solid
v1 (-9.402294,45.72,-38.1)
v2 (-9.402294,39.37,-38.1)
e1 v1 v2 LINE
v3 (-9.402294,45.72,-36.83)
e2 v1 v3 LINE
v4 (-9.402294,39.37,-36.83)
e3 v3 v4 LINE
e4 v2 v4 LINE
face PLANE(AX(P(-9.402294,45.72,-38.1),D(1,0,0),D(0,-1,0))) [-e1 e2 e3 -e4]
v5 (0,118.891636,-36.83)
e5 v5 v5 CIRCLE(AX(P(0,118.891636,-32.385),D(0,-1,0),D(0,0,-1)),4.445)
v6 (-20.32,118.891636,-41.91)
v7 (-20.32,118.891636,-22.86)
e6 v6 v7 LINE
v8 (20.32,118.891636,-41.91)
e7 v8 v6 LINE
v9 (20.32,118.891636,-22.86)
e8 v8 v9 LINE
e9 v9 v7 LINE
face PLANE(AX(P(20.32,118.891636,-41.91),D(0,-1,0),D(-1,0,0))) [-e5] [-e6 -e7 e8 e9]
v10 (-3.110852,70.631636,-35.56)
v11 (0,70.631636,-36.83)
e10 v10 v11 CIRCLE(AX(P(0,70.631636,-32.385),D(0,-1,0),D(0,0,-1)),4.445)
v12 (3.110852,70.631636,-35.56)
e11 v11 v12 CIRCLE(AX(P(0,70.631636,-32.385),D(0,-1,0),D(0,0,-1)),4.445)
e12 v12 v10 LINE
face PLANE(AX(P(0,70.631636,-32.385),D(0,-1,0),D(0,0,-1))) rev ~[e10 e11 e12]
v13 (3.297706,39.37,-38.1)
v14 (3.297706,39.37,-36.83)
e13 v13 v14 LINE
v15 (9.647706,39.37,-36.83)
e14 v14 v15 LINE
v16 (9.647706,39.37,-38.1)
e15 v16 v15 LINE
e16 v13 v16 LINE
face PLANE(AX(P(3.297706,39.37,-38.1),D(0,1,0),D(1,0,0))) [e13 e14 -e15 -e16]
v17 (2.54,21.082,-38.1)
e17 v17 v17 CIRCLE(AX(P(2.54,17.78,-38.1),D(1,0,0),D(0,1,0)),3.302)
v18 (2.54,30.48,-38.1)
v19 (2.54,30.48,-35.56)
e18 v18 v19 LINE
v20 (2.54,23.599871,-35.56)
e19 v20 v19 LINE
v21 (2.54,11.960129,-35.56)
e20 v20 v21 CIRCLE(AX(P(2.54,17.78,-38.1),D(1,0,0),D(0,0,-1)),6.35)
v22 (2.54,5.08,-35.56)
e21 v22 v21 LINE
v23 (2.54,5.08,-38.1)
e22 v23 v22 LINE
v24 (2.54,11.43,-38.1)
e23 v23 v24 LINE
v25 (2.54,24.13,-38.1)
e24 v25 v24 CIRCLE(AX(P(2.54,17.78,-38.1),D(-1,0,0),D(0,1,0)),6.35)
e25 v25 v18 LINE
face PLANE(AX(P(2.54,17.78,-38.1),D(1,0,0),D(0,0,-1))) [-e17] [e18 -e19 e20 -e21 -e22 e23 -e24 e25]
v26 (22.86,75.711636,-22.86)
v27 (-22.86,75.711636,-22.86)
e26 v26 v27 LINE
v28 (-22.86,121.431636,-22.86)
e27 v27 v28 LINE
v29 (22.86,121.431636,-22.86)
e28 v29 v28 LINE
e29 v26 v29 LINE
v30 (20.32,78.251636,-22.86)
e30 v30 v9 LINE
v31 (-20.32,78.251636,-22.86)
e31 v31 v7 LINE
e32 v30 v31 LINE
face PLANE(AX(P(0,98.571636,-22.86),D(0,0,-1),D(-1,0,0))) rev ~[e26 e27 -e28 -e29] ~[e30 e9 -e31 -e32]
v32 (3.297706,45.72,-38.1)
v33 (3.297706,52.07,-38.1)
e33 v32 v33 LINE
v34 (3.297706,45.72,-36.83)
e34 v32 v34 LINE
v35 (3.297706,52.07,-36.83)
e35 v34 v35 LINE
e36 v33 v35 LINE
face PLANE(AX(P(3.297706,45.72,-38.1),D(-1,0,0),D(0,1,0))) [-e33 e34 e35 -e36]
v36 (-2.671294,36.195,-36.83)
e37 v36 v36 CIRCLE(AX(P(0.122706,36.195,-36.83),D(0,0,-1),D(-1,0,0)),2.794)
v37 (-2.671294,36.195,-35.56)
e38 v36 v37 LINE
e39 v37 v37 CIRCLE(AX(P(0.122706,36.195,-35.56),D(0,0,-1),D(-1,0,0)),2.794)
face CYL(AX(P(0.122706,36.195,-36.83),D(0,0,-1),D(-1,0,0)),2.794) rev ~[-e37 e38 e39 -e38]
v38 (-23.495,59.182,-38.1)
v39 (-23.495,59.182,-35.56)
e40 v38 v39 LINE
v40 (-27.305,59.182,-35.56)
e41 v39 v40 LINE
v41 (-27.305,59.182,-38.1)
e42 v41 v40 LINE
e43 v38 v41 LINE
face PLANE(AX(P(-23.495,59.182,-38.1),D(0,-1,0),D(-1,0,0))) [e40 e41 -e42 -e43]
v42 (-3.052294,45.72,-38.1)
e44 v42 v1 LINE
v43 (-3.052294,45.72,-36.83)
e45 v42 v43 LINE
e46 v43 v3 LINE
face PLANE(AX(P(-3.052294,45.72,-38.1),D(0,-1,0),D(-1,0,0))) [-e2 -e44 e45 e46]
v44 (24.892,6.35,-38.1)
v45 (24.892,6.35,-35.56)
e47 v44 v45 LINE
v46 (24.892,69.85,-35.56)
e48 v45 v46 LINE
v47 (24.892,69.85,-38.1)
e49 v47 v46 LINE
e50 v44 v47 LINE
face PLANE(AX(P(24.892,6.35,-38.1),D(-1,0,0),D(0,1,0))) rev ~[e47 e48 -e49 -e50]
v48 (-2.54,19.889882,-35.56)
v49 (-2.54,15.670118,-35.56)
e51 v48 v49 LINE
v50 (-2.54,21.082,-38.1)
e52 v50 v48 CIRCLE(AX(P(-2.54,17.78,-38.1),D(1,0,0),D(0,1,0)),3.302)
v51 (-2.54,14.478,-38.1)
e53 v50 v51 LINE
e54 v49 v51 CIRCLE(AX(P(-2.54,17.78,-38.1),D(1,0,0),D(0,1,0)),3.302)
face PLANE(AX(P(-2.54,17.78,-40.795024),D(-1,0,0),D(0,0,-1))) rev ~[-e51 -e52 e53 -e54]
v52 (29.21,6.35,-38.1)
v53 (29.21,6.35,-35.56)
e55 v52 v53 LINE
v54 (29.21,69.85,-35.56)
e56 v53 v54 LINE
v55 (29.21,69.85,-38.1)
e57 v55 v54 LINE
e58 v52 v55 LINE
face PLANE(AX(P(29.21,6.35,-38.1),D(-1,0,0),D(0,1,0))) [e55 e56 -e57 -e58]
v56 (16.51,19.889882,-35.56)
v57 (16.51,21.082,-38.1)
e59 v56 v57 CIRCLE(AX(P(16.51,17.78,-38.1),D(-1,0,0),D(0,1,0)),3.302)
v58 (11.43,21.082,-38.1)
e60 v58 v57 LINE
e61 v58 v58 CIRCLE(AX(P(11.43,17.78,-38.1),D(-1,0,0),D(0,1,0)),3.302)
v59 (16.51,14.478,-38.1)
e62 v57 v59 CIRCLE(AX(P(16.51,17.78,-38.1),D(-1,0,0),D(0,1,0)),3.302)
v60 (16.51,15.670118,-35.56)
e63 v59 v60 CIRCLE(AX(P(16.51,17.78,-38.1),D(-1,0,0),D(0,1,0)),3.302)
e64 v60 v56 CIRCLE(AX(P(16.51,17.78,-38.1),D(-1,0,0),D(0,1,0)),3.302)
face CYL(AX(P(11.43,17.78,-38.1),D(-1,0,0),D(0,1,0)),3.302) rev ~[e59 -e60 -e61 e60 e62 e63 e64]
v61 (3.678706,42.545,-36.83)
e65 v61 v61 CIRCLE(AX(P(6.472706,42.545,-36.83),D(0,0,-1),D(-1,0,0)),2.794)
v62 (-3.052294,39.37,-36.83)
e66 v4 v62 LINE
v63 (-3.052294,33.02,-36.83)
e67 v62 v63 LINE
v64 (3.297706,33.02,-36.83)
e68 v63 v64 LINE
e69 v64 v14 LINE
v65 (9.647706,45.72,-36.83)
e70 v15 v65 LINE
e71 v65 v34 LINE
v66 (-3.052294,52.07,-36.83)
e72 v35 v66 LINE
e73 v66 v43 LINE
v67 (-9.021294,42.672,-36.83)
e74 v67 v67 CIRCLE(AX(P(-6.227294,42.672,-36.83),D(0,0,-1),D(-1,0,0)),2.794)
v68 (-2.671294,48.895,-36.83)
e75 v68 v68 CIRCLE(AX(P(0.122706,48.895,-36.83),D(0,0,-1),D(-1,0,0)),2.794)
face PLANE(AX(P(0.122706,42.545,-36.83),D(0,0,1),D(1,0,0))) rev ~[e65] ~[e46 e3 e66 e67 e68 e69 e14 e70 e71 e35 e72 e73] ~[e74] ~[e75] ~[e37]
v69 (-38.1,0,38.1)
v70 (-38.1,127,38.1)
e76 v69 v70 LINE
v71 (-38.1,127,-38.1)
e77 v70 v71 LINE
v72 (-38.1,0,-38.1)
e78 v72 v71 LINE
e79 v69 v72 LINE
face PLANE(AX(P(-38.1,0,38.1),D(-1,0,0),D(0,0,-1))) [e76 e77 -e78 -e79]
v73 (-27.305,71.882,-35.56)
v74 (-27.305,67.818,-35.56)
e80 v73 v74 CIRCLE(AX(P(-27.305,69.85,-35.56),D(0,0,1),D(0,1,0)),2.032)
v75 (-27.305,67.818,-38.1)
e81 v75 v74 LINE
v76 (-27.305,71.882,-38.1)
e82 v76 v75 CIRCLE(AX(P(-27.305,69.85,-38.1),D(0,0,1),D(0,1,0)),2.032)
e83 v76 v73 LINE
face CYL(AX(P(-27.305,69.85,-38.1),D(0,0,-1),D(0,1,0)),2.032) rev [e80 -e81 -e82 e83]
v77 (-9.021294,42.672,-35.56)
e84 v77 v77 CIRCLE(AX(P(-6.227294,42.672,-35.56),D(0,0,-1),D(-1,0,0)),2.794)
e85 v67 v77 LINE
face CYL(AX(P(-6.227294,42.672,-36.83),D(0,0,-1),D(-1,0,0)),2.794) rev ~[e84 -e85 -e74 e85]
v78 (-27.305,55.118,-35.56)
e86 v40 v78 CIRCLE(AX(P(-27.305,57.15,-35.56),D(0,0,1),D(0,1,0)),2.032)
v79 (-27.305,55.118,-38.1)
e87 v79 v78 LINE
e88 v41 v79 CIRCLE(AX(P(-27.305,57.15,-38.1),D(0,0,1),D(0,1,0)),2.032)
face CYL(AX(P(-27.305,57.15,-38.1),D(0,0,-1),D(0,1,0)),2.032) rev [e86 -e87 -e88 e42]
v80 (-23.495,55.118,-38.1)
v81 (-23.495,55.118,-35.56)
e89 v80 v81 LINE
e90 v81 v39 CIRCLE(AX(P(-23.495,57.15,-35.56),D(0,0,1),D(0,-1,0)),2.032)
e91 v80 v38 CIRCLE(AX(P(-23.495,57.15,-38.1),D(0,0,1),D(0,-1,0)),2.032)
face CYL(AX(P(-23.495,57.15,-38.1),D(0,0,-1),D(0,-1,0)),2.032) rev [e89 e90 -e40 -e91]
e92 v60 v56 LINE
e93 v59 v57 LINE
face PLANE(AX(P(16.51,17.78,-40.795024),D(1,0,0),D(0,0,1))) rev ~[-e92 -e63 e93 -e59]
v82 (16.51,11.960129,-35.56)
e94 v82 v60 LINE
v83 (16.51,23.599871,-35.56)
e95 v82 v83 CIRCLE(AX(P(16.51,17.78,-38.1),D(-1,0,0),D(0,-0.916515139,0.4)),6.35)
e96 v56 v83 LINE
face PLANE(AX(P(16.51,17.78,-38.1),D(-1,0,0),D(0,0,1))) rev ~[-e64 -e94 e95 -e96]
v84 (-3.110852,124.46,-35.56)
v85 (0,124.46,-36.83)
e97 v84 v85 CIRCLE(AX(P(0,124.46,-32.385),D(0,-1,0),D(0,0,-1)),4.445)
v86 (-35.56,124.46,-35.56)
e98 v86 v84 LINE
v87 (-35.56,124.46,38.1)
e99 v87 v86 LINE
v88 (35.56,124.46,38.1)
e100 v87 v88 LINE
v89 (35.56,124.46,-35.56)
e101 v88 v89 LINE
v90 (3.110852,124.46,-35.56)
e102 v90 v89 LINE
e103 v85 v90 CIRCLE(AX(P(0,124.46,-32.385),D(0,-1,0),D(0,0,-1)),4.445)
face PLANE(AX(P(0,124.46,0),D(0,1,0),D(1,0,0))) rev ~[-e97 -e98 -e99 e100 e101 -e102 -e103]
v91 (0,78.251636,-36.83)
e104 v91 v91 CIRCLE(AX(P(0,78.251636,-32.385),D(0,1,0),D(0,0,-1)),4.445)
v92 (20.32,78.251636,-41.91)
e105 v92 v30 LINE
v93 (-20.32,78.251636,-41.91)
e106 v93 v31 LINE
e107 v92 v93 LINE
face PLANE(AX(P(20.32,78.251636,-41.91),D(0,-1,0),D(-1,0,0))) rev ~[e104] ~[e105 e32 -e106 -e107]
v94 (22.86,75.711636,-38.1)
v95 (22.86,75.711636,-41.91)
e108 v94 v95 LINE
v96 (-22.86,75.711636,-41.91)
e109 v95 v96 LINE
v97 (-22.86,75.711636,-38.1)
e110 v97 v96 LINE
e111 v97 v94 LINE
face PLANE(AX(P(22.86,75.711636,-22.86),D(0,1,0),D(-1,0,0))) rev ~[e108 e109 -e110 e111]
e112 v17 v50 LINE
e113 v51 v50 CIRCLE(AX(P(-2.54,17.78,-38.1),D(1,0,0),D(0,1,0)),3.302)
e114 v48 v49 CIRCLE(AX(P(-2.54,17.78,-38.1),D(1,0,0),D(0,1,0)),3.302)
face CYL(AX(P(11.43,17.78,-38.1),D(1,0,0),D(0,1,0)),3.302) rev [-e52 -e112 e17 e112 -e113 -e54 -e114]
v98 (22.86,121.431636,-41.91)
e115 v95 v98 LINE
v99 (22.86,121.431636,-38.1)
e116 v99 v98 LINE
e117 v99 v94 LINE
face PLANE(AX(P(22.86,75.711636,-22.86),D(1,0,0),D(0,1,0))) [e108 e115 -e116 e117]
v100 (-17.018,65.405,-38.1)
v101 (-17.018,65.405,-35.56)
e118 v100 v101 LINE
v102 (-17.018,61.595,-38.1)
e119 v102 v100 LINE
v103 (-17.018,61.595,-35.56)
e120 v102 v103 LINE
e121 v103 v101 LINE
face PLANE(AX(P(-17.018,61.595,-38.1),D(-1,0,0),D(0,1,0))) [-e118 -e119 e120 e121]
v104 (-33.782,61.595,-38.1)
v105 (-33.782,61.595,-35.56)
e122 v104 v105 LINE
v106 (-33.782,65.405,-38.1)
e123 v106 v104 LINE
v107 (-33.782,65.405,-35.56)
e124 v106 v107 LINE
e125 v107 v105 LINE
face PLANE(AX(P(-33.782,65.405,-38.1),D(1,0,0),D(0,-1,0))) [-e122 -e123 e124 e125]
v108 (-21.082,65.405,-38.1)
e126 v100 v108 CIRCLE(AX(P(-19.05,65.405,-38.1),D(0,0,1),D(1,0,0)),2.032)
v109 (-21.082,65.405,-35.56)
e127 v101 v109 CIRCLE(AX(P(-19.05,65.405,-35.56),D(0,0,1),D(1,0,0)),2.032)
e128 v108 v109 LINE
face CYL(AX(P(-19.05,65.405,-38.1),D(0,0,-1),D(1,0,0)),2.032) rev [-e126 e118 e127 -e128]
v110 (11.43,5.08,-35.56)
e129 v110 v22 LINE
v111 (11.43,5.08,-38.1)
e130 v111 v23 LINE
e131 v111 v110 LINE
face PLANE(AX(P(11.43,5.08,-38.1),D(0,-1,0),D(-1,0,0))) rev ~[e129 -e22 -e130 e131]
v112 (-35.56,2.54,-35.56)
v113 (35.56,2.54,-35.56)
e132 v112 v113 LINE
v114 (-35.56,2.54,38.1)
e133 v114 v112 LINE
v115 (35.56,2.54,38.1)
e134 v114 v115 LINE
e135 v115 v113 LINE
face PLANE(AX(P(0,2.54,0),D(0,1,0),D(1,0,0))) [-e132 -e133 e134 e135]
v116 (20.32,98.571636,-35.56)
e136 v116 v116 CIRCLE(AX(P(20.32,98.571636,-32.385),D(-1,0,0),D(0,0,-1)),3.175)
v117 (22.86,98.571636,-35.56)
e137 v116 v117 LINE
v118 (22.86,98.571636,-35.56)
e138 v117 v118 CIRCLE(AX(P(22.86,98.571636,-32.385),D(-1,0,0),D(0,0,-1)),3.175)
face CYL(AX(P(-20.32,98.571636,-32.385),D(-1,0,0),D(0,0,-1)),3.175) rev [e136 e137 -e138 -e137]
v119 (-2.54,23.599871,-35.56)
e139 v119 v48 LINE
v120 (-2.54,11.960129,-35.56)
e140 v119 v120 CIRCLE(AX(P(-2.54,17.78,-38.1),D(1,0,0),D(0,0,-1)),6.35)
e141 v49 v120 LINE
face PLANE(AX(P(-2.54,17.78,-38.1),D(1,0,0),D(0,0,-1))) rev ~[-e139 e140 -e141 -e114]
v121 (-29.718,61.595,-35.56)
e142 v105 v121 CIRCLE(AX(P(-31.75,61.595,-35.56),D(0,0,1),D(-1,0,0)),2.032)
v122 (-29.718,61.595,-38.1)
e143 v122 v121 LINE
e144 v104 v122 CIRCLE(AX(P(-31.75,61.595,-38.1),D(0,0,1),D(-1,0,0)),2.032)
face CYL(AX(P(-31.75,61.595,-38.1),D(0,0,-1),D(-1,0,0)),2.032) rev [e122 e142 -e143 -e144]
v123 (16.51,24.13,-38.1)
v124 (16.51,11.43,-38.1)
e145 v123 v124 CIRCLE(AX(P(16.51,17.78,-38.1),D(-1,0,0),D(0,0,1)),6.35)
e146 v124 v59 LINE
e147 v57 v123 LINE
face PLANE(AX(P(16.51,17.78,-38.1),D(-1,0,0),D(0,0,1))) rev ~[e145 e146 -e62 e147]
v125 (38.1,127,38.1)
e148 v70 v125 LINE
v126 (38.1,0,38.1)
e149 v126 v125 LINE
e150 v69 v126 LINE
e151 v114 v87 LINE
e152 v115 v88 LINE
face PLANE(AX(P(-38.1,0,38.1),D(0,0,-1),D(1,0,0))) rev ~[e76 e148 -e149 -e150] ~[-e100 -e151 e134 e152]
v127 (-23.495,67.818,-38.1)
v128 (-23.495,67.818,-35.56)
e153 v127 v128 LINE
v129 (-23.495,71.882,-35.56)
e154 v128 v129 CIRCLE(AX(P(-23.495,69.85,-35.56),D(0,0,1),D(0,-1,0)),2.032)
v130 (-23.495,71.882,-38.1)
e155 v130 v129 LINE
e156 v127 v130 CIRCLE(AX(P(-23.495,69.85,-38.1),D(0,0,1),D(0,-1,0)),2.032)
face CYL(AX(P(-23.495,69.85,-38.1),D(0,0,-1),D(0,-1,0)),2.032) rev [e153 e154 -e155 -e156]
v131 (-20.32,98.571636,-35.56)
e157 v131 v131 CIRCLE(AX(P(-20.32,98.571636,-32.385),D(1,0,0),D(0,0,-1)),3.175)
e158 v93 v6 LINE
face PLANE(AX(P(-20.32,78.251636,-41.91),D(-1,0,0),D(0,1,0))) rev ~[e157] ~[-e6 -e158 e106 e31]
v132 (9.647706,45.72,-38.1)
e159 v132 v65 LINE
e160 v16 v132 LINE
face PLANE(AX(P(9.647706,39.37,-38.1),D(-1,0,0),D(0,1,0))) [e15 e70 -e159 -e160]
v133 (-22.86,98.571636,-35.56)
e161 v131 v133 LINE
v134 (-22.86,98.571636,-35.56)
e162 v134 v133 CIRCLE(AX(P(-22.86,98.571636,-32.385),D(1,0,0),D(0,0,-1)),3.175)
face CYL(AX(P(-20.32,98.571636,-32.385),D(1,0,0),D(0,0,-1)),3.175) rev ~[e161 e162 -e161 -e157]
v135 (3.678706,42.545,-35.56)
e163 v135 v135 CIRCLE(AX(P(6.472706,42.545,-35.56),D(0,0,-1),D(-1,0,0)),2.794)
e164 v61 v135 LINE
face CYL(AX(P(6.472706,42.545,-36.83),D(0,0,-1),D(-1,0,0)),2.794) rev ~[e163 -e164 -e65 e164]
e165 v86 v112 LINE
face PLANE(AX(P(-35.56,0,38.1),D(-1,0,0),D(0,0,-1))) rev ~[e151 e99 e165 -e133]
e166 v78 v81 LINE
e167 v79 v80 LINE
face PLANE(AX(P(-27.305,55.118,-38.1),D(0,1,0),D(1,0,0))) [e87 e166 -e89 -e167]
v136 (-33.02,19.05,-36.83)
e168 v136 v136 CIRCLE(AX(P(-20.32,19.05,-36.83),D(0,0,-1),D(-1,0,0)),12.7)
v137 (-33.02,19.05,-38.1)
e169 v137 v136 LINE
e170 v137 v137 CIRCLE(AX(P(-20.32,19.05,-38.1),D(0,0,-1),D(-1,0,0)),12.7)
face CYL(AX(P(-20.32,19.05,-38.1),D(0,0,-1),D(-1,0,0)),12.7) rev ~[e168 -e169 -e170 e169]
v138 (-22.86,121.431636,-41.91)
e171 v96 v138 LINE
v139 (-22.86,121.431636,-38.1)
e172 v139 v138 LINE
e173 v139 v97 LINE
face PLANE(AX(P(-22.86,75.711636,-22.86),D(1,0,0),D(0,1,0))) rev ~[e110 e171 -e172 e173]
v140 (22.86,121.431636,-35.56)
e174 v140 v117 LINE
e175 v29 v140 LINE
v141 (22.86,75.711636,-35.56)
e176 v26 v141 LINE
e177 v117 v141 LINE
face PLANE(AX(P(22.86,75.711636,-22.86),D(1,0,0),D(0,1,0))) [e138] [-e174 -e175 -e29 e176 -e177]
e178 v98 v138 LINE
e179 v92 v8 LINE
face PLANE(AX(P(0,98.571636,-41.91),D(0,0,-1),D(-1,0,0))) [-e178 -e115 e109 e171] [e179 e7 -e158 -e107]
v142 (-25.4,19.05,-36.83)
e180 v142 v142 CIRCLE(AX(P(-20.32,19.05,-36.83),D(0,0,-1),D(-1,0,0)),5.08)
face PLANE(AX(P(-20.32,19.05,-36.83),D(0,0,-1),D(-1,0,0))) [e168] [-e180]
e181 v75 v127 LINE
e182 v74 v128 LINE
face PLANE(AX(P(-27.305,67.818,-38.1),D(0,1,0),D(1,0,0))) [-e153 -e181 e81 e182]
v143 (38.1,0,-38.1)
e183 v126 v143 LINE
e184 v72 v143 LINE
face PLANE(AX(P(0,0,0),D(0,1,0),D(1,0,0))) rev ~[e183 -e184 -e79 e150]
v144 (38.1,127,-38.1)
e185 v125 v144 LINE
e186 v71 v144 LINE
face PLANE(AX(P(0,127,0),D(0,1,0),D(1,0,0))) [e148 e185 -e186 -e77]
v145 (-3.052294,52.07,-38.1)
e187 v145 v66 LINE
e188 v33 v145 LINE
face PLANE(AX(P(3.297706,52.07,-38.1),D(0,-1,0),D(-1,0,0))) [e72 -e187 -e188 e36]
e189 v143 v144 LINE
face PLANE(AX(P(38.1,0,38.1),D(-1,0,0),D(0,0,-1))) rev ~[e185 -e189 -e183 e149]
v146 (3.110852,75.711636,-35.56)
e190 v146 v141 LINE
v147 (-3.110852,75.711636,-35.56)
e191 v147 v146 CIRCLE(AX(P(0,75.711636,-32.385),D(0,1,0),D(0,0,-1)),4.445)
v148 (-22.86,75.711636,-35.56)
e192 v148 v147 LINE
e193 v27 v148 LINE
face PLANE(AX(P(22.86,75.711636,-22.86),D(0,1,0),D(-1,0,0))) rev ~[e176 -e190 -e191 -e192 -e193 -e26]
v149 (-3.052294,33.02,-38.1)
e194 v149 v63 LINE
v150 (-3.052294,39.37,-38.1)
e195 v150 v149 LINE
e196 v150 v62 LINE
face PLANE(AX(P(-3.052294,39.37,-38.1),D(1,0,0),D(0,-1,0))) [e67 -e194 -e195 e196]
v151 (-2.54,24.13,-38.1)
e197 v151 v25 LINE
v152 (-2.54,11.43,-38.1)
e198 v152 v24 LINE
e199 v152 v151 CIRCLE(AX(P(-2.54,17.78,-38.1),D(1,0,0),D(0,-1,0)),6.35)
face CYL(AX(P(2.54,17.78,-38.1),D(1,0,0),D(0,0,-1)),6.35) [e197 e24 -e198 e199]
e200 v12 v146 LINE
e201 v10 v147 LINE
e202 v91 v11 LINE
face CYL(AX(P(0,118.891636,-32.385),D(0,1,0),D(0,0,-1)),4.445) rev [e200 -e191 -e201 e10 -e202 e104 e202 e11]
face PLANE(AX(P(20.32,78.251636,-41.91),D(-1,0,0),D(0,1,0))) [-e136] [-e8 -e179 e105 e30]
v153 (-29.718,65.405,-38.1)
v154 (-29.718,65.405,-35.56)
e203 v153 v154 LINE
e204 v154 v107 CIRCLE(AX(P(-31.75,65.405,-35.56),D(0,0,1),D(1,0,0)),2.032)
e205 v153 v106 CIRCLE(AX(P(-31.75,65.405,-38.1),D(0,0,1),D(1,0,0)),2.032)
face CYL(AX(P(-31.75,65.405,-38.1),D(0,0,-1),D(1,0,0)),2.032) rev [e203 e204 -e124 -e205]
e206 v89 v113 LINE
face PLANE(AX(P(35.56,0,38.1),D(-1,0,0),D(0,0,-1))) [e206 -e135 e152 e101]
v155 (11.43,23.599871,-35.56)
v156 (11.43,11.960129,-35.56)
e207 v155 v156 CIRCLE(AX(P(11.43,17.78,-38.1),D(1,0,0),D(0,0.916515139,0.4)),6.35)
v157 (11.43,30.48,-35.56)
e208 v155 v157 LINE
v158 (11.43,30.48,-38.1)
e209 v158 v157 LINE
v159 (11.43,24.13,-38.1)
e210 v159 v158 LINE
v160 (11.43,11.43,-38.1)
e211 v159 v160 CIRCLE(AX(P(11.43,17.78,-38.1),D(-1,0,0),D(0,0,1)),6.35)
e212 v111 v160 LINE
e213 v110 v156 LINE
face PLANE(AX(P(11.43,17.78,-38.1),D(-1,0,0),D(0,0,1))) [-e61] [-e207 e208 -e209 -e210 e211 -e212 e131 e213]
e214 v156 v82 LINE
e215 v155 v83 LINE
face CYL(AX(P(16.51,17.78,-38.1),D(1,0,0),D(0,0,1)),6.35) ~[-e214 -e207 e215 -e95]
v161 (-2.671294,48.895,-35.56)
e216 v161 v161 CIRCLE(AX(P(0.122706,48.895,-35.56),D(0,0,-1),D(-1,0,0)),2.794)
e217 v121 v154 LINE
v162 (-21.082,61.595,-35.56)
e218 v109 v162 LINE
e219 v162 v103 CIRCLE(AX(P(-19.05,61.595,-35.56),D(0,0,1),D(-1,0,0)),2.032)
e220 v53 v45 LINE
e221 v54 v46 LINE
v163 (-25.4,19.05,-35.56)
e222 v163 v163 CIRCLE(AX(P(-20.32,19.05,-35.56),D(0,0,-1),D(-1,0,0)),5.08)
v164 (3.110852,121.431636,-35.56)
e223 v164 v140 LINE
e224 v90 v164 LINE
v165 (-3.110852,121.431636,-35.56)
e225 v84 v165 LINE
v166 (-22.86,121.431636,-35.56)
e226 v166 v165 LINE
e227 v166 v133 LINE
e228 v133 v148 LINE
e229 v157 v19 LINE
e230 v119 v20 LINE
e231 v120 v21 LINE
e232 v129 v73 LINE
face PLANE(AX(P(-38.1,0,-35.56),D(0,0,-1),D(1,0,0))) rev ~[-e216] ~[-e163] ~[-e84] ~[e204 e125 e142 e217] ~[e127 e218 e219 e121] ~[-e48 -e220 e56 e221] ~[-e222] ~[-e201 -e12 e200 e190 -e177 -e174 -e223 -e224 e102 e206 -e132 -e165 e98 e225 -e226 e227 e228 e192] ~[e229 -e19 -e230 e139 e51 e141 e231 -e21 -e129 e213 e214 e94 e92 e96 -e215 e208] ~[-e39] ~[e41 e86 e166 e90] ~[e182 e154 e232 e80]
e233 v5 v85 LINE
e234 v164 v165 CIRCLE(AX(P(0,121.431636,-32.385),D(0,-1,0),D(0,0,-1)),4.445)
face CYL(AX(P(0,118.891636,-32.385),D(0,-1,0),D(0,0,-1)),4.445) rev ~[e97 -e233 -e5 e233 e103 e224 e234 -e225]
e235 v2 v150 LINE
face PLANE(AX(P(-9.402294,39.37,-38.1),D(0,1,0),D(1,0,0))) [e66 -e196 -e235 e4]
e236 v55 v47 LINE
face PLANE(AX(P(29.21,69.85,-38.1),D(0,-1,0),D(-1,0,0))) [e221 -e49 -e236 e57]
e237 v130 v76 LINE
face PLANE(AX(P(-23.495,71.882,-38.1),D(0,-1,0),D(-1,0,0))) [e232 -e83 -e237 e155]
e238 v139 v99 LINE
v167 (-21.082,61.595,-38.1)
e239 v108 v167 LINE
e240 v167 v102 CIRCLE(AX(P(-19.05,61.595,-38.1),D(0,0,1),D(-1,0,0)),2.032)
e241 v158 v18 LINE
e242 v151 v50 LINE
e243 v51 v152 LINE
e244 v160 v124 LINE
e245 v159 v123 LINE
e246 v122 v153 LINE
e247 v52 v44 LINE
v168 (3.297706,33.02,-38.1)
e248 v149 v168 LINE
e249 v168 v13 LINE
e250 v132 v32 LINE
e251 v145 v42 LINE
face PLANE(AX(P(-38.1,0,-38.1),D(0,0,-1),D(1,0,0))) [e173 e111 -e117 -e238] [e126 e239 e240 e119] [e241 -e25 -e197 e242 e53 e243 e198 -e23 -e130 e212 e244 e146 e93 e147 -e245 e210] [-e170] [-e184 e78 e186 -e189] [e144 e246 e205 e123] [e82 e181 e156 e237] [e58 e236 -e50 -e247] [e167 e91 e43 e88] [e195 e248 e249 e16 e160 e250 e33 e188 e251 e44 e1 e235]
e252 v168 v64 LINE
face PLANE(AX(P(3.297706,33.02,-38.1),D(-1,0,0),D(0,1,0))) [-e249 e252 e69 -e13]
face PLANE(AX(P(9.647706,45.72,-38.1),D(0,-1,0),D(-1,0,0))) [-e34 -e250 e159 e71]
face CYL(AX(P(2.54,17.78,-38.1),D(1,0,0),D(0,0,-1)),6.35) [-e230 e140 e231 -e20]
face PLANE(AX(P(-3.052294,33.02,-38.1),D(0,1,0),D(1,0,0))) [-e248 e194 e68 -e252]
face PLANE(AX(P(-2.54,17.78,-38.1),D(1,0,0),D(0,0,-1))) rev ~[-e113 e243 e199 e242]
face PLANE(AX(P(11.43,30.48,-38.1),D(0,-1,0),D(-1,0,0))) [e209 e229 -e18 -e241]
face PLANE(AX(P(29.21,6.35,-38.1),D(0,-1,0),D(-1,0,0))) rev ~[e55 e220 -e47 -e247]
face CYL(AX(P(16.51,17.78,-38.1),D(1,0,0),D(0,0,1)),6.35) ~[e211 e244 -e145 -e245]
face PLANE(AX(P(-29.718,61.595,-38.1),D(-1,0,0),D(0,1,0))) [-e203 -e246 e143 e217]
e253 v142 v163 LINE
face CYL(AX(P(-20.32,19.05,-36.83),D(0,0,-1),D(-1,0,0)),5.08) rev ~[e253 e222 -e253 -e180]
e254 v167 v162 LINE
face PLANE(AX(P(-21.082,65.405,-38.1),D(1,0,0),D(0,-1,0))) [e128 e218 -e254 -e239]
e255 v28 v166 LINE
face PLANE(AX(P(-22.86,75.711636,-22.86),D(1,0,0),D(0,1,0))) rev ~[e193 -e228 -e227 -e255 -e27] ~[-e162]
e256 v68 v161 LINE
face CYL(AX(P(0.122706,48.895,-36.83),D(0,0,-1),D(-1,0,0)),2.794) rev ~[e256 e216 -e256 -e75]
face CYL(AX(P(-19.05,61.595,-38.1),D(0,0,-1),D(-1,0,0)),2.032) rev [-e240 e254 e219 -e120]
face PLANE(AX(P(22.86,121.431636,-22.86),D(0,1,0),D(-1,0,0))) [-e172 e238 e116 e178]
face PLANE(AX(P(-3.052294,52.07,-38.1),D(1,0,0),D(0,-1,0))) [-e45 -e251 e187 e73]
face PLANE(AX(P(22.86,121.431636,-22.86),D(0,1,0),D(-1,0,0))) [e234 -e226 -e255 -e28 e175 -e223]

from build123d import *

# Parameters (mm, degrees)
SKETCH1_W                       = 76.2
SKETCH1_H                       = 76.2
BOX_DEPTH                       = 127
HOLLOW_IT_T                     = -2.54
SKETCH2_W                       = 4.318
SKETCH2_H                       = 63.5
SLIDER_TRACK_DEPTH              = 2.54
DPAD_LARGE_SHAPE_DEPTH          = 1.27
SKETCH7_R                       = 2.794
DPAD_TINY_HOLES_DEPTH           = 1.27
SKETCH8_R                       = 12.7
DIAL_LARGE_RING_DEPTH           = 1.27
SKETCH9_R                       = 5.08
DIAL_SMALL_HOLE_DEPTH           = 1.27
SKETCH12_W                      = 8.89
SKETCH12_H                      = 25.4
HOLE_FOR_SCROLL_WHEEL_DEPTH     = 2.54
SKETCH14_R                      = 6.35
NIBBLE_BASE_1_DEPTH             = 5.08
NIBBLE_START                    = -5.08
SKETCH15_R                      = 6.35
NIBBLE_BASE_2_DEPTH             = 5.08
NIBBLE_HOLES_REACH              = 145.381
SKETCH16_R                      = 3.302
NIBBLE_HOLES_DIRECTION_2_REACH  = 145.381
SINGLE_BUTTON_LEG_HOLE_DEPTH    = 2.54
MOAR_LEG_HOLES_COUNT            = 4
BASE_FOR_JOYSTICK_DEPTH         = 3.81
BASE_FOR_JOYSTICK_DEPTH_BACK    = 15.24
SKETCH19_W                      = 45.72
SKETCH19_H                      = 45.72
SKETCH21_W                      = 40.64
SKETCH21_H                      = 40.64
JOYSTICK_HOLE_DEPTH             = 155.861906549
LARGE_NIBBLES_REACH             = 148.689
SKETCH22_R                      = 3.175
LARGE_NIBBLES_DIRECTION_2_REACH = 148.689
SMALL_NIBBLES_REACH             = 134.524
SKETCH23_R                      = 4.445
SMALL_NIBBLES_DIRECTION_2_DEPTH = 48.26


with BuildPart() as part:
    # Sketch1 → box (new body)
    with BuildSketch(Plane(origin=(0, 0, 0), x_dir=(1, 0, 0), z_dir=(0, 1, 0))):
        Rectangle(SKETCH1_W, SKETCH1_H)
    extrude(amount=BOX_DEPTH)

    # hollow it
    hollow_it_openings = [part.faces().sort_by_distance(p)[0] for p in [
        (0, 63.5, 38.1),
    ]]
    offset(amount=HOLLOW_IT_T, openings=hollow_it_openings, kind=Kind.INTERSECTION)

    # Sketch2 → slider track (cut)
    with BuildSketch(Plane(origin=(0, 0, -38.1), x_dir=(-1, 0, 0), z_dir=(0, 0, -1))):
        with Locations((-27.051, 38.1)):
            Rectangle(SKETCH2_W, SKETCH2_H)
    extrude(amount=-SLIDER_TRACK_DEPTH, mode=Mode.SUBTRACT)

    # Sketch6 → dpad large shape (cut)
    with BuildSketch(Plane(origin=(0, 0, -38.1), x_dir=(-1, 0, 0), z_dir=(0, 0, -1))):
        Polygon((-3.297705804, 45.72), (-3.297705804, 52.07), (3.052294196, 52.07), (3.052294196, 45.72), (9.402294196, 45.72), (9.402294196, 39.37), (3.052294196, 39.37), (3.052294196, 33.02), (-3.297705804, 33.02), (-3.297705804, 39.37), (-9.647705804, 39.37), (-9.647705804, 45.72), align=None)
    extrude(amount=-DPAD_LARGE_SHAPE_DEPTH, mode=Mode.SUBTRACT)

    # Sketch7 → dpad tiny holes (cut)
    with BuildSketch(Plane(origin=(0, 0, -36.83), x_dir=(-1, 0, 0), z_dir=(0, 0, -1))):
        with Locations((-0.122705804, 48.895)):
            Circle(SKETCH7_R)
        with Locations((6.227294196, 42.672)):
            Circle(SKETCH7_R)
        with Locations((-0.122705804, 36.195)):
            Circle(SKETCH7_R)
        with Locations((-6.472705804, 42.545)):
            Circle(SKETCH7_R)
    extrude(amount=-DPAD_TINY_HOLES_DEPTH, mode=Mode.SUBTRACT)

    # Sketch8 → dial large ring (cut)
    with BuildSketch(Plane(origin=(0, 0, -38.1), x_dir=(-1, 0, 0), z_dir=(0, 0, -1))):
        with Locations((20.32, 19.05)):
            Circle(SKETCH8_R)
    extrude(amount=-DIAL_LARGE_RING_DEPTH, mode=Mode.SUBTRACT)

    # Sketch9 → dial small hole (cut)
    with BuildSketch(Plane(origin=(0, 0, -36.83), x_dir=(-1, 0, 0), z_dir=(0, 0, -1))):
        with Locations((20.32, 19.05)):
            Circle(SKETCH9_R)
    extrude(amount=-DIAL_SMALL_HOLE_DEPTH, mode=Mode.SUBTRACT)

    # Sketch12 → hole for scroll wheel (cut)
    with BuildSketch(Plane(origin=(0, 0, -38.1), x_dir=(-1, 0, 0), z_dir=(0, 0, -1))):
        with Locations((-6.985, 17.78)):
            Rectangle(SKETCH12_W, SKETCH12_H)
    extrude(amount=-HOLE_FOR_SCROLL_WHEEL_DEPTH, mode=Mode.SUBTRACT)

    # Sketch14 → nibble base 1 (add)
    with BuildSketch(Plane(origin=(2.54, 0, 0), x_dir=(0, 0, -1), z_dir=(1, 0, 0))):
        with Locations((38.1, 17.78)):
            Circle(SKETCH14_R)
    extrude(amount=-NIBBLE_BASE_1_DEPTH)

    # Sketch15 → nibble base 2 (add)
    with BuildSketch(Plane.ZY.offset(-11.43).offset(NIBBLE_START)):
        with Locations((-38.1, 17.78)):
            Circle(SKETCH15_R)
    extrude(amount=NIBBLE_BASE_2_DEPTH)

    # nibble holes: up to this face of the body (flat: up to its plane)
    nibble_holes_end = Plane(part.part.faces().sort_by_distance((16.51, 17.78, -40.795023703))[0])
    # Sketch16 → nibble holes (cut, up to the picked face)
    with BuildSketch(Plane.ZY.offset(-11.43), mode=Mode.PRIVATE) as nibble_holes_sk1:
        with Locations(Location((-38.1, 17.78, 0), (0, 0, 90))):
            Circle(SKETCH16_R)
    nibble_holes_tool1 = split(extrude(nibble_holes_sk1.sketch, amount=-NIBBLE_HOLES_REACH, mode=Mode.PRIVATE), bisect_by=nibble_holes_end, keep=Keep.BOTH, mode=Mode.PRIVATE)
    add(nibble_holes_tool1.solids().sort_by(Axis((11.43, 17.78, -38.1), (1, 0, 0)))[0], mode=Mode.SUBTRACT)

    # nibble holes direction 2: up to this face of the body (flat: up to its plane)
    nibble_holes_direction_2_end = Plane(part.part.faces().sort_by_distance((-2.54, 17.78, -40.795023703))[0])
    # Sketch16 → nibble holes direction 2 (cut, up to the picked face)
    with BuildSketch(Plane.ZY.offset(-11.43), mode=Mode.PRIVATE) as nibble_holes_direction_2_sk1:
        with Locations(Location((-38.1, 17.78, 0), (0, 0, 90))):
            Circle(SKETCH16_R)
    nibble_holes_direction_2_tool1 = split(extrude(nibble_holes_direction_2_sk1.sketch, amount=NIBBLE_HOLES_DIRECTION_2_REACH, mode=Mode.PRIVATE), bisect_by=nibble_holes_direction_2_end, keep=Keep.BOTH, mode=Mode.PRIVATE)
    add(nibble_holes_direction_2_tool1.solids().sort_by(Axis((11.43, 17.78, -38.1), (-1, 0, 0)))[0], mode=Mode.SUBTRACT)

    # Sketch17 → single button leg hole (cut)
    with BuildSketch(Plane(origin=(0, 0, -38.1), x_dir=(-1, 0, 0), z_dir=(0, 0, -1))):
        with BuildLine():
            Line((33.782, 65.405), (33.782, 61.595))
            ThreePointArc((33.782, 61.595), (31.75, 59.563), (29.718, 61.595))
            Line((29.718, 61.595), (29.718, 65.405))
            ThreePointArc((29.718, 65.405), (31.75, 67.437), (33.782, 65.405))
        make_face()
    single_button_leg_hole = extrude(amount=-SINGLE_BUTTON_LEG_HOLE_DEPTH, mode=Mode.SUBTRACT)

    # moar leg holes: single button leg hole ×4 about axis
    moar_leg_holes_axis = Axis((-25.4, 63.5, 0), (0, 0, 1))
    for i in range(1, MOAR_LEG_HOLES_COUNT):
        add(single_button_leg_hole.rotate(moar_leg_holes_axis, i * 360 / MOAR_LEG_HOLES_COUNT), mode=Mode.SUBTRACT)

    # Sketch19 → base for joystick (add, two sides: drawn at the far end of the back side and taken through both)
    with BuildSketch(Plane(origin=(0, 0, -38.1), x_dir=(-1, 0, 0), z_dir=(0, 0, -1)).offset(-BASE_FOR_JOYSTICK_DEPTH_BACK)):
        with Locations((0, 98.571636182)):
            Rectangle(SKETCH19_W, SKETCH19_H)
    extrude(amount=BASE_FOR_JOYSTICK_DEPTH + BASE_FOR_JOYSTICK_DEPTH_BACK)

    # Sketch21 → joystick hole (cut, through all)
    with BuildSketch(Plane(origin=(0, 0, -41.91), x_dir=(-1, 0, 0), z_dir=(0, 0, -1))):
        with Locations((0, 98.571636182)):
            Rectangle(SKETCH21_W, SKETCH21_H)
    extrude(amount=-JOYSTICK_HOLE_DEPTH, mode=Mode.SUBTRACT)

    # large nibbles: up to this face of the body (flat: up to its plane)
    large_nibbles_end = Plane(part.part.faces().sort_by_distance((-22.86, 98.571636182, -40.005))[0])
    # Sketch22 → large nibbles (cut, up to the picked face)
    with BuildSketch(Plane(origin=(-20.32, 0, 0), x_dir=(0, 0, -1), z_dir=(1, 0, 0)), mode=Mode.PRIVATE) as large_nibbles_sk1:
        with Locations((32.385, 98.571636182)):
            Circle(SKETCH22_R)
    large_nibbles_tool1 = split(extrude(large_nibbles_sk1.sketch, amount=-LARGE_NIBBLES_REACH, mode=Mode.PRIVATE), bisect_by=large_nibbles_end, keep=Keep.BOTH, mode=Mode.PRIVATE)
    add(large_nibbles_tool1.solids().sort_by(Axis((-20.32, 98.571636, -32.385), (-1, 0, 0)))[0], mode=Mode.SUBTRACT)

    # large nibbles direction 2: up to this face of the body (flat: up to its plane)
    large_nibbles_direction_2_end = Plane(part.part.faces().sort_by_distance((22.86, 98.571636182, -40.005))[0])
    # Sketch22 → large nibbles direction 2 (cut, up to the picked face)
    with BuildSketch(Plane(origin=(-20.32, 0, 0), x_dir=(0, 0, -1), z_dir=(1, 0, 0)), mode=Mode.PRIVATE) as large_nibbles_direction_2_sk1:
        with Locations((32.385, 98.571636182)):
            Circle(SKETCH22_R)
    large_nibbles_direction_2_tool1 = split(extrude(large_nibbles_direction_2_sk1.sketch, amount=LARGE_NIBBLES_DIRECTION_2_REACH, mode=Mode.PRIVATE), bisect_by=large_nibbles_direction_2_end, keep=Keep.BOTH, mode=Mode.PRIVATE)
    add(large_nibbles_direction_2_tool1.solids().sort_by(Axis((-20.32, 98.571636, -32.385), (1, 0, 0)))[0], mode=Mode.SUBTRACT)

    # small nibbles: up to this face of the body (flat: up to its plane)
    small_nibbles_end = Plane(part.part.faces().sort_by_distance((0, 124.46, 1.27))[0])
    # Sketch23 → small nibbles (cut, up to the picked face)
    with BuildSketch(Plane.XZ.offset(-118.891636182), mode=Mode.PRIVATE) as small_nibbles_sk1:
        with Locations(Location((0, -32.385, 0), (0, 0, 270))):
            Circle(SKETCH23_R)
    small_nibbles_tool1 = split(extrude(small_nibbles_sk1.sketch, amount=-SMALL_NIBBLES_REACH, mode=Mode.PRIVATE), bisect_by=small_nibbles_end, keep=Keep.BOTH, mode=Mode.PRIVATE)
    add(small_nibbles_tool1.solids().sort_by(Axis((0, 118.891636, -32.385), (0, 1, 0)))[0], mode=Mode.SUBTRACT)

    # Sketch23 → small nibbles direction 2 (cut)
    with BuildSketch(Plane.XZ.offset(-118.891636182)):
        with Locations(Location((0, -32.385, 0), (0, 0, 270))):
            Circle(SKETCH23_R)
    extrude(amount=SMALL_NIBBLES_DIRECTION_2_DEPTH, mode=Mode.SUBTRACT)


solid = part.part
